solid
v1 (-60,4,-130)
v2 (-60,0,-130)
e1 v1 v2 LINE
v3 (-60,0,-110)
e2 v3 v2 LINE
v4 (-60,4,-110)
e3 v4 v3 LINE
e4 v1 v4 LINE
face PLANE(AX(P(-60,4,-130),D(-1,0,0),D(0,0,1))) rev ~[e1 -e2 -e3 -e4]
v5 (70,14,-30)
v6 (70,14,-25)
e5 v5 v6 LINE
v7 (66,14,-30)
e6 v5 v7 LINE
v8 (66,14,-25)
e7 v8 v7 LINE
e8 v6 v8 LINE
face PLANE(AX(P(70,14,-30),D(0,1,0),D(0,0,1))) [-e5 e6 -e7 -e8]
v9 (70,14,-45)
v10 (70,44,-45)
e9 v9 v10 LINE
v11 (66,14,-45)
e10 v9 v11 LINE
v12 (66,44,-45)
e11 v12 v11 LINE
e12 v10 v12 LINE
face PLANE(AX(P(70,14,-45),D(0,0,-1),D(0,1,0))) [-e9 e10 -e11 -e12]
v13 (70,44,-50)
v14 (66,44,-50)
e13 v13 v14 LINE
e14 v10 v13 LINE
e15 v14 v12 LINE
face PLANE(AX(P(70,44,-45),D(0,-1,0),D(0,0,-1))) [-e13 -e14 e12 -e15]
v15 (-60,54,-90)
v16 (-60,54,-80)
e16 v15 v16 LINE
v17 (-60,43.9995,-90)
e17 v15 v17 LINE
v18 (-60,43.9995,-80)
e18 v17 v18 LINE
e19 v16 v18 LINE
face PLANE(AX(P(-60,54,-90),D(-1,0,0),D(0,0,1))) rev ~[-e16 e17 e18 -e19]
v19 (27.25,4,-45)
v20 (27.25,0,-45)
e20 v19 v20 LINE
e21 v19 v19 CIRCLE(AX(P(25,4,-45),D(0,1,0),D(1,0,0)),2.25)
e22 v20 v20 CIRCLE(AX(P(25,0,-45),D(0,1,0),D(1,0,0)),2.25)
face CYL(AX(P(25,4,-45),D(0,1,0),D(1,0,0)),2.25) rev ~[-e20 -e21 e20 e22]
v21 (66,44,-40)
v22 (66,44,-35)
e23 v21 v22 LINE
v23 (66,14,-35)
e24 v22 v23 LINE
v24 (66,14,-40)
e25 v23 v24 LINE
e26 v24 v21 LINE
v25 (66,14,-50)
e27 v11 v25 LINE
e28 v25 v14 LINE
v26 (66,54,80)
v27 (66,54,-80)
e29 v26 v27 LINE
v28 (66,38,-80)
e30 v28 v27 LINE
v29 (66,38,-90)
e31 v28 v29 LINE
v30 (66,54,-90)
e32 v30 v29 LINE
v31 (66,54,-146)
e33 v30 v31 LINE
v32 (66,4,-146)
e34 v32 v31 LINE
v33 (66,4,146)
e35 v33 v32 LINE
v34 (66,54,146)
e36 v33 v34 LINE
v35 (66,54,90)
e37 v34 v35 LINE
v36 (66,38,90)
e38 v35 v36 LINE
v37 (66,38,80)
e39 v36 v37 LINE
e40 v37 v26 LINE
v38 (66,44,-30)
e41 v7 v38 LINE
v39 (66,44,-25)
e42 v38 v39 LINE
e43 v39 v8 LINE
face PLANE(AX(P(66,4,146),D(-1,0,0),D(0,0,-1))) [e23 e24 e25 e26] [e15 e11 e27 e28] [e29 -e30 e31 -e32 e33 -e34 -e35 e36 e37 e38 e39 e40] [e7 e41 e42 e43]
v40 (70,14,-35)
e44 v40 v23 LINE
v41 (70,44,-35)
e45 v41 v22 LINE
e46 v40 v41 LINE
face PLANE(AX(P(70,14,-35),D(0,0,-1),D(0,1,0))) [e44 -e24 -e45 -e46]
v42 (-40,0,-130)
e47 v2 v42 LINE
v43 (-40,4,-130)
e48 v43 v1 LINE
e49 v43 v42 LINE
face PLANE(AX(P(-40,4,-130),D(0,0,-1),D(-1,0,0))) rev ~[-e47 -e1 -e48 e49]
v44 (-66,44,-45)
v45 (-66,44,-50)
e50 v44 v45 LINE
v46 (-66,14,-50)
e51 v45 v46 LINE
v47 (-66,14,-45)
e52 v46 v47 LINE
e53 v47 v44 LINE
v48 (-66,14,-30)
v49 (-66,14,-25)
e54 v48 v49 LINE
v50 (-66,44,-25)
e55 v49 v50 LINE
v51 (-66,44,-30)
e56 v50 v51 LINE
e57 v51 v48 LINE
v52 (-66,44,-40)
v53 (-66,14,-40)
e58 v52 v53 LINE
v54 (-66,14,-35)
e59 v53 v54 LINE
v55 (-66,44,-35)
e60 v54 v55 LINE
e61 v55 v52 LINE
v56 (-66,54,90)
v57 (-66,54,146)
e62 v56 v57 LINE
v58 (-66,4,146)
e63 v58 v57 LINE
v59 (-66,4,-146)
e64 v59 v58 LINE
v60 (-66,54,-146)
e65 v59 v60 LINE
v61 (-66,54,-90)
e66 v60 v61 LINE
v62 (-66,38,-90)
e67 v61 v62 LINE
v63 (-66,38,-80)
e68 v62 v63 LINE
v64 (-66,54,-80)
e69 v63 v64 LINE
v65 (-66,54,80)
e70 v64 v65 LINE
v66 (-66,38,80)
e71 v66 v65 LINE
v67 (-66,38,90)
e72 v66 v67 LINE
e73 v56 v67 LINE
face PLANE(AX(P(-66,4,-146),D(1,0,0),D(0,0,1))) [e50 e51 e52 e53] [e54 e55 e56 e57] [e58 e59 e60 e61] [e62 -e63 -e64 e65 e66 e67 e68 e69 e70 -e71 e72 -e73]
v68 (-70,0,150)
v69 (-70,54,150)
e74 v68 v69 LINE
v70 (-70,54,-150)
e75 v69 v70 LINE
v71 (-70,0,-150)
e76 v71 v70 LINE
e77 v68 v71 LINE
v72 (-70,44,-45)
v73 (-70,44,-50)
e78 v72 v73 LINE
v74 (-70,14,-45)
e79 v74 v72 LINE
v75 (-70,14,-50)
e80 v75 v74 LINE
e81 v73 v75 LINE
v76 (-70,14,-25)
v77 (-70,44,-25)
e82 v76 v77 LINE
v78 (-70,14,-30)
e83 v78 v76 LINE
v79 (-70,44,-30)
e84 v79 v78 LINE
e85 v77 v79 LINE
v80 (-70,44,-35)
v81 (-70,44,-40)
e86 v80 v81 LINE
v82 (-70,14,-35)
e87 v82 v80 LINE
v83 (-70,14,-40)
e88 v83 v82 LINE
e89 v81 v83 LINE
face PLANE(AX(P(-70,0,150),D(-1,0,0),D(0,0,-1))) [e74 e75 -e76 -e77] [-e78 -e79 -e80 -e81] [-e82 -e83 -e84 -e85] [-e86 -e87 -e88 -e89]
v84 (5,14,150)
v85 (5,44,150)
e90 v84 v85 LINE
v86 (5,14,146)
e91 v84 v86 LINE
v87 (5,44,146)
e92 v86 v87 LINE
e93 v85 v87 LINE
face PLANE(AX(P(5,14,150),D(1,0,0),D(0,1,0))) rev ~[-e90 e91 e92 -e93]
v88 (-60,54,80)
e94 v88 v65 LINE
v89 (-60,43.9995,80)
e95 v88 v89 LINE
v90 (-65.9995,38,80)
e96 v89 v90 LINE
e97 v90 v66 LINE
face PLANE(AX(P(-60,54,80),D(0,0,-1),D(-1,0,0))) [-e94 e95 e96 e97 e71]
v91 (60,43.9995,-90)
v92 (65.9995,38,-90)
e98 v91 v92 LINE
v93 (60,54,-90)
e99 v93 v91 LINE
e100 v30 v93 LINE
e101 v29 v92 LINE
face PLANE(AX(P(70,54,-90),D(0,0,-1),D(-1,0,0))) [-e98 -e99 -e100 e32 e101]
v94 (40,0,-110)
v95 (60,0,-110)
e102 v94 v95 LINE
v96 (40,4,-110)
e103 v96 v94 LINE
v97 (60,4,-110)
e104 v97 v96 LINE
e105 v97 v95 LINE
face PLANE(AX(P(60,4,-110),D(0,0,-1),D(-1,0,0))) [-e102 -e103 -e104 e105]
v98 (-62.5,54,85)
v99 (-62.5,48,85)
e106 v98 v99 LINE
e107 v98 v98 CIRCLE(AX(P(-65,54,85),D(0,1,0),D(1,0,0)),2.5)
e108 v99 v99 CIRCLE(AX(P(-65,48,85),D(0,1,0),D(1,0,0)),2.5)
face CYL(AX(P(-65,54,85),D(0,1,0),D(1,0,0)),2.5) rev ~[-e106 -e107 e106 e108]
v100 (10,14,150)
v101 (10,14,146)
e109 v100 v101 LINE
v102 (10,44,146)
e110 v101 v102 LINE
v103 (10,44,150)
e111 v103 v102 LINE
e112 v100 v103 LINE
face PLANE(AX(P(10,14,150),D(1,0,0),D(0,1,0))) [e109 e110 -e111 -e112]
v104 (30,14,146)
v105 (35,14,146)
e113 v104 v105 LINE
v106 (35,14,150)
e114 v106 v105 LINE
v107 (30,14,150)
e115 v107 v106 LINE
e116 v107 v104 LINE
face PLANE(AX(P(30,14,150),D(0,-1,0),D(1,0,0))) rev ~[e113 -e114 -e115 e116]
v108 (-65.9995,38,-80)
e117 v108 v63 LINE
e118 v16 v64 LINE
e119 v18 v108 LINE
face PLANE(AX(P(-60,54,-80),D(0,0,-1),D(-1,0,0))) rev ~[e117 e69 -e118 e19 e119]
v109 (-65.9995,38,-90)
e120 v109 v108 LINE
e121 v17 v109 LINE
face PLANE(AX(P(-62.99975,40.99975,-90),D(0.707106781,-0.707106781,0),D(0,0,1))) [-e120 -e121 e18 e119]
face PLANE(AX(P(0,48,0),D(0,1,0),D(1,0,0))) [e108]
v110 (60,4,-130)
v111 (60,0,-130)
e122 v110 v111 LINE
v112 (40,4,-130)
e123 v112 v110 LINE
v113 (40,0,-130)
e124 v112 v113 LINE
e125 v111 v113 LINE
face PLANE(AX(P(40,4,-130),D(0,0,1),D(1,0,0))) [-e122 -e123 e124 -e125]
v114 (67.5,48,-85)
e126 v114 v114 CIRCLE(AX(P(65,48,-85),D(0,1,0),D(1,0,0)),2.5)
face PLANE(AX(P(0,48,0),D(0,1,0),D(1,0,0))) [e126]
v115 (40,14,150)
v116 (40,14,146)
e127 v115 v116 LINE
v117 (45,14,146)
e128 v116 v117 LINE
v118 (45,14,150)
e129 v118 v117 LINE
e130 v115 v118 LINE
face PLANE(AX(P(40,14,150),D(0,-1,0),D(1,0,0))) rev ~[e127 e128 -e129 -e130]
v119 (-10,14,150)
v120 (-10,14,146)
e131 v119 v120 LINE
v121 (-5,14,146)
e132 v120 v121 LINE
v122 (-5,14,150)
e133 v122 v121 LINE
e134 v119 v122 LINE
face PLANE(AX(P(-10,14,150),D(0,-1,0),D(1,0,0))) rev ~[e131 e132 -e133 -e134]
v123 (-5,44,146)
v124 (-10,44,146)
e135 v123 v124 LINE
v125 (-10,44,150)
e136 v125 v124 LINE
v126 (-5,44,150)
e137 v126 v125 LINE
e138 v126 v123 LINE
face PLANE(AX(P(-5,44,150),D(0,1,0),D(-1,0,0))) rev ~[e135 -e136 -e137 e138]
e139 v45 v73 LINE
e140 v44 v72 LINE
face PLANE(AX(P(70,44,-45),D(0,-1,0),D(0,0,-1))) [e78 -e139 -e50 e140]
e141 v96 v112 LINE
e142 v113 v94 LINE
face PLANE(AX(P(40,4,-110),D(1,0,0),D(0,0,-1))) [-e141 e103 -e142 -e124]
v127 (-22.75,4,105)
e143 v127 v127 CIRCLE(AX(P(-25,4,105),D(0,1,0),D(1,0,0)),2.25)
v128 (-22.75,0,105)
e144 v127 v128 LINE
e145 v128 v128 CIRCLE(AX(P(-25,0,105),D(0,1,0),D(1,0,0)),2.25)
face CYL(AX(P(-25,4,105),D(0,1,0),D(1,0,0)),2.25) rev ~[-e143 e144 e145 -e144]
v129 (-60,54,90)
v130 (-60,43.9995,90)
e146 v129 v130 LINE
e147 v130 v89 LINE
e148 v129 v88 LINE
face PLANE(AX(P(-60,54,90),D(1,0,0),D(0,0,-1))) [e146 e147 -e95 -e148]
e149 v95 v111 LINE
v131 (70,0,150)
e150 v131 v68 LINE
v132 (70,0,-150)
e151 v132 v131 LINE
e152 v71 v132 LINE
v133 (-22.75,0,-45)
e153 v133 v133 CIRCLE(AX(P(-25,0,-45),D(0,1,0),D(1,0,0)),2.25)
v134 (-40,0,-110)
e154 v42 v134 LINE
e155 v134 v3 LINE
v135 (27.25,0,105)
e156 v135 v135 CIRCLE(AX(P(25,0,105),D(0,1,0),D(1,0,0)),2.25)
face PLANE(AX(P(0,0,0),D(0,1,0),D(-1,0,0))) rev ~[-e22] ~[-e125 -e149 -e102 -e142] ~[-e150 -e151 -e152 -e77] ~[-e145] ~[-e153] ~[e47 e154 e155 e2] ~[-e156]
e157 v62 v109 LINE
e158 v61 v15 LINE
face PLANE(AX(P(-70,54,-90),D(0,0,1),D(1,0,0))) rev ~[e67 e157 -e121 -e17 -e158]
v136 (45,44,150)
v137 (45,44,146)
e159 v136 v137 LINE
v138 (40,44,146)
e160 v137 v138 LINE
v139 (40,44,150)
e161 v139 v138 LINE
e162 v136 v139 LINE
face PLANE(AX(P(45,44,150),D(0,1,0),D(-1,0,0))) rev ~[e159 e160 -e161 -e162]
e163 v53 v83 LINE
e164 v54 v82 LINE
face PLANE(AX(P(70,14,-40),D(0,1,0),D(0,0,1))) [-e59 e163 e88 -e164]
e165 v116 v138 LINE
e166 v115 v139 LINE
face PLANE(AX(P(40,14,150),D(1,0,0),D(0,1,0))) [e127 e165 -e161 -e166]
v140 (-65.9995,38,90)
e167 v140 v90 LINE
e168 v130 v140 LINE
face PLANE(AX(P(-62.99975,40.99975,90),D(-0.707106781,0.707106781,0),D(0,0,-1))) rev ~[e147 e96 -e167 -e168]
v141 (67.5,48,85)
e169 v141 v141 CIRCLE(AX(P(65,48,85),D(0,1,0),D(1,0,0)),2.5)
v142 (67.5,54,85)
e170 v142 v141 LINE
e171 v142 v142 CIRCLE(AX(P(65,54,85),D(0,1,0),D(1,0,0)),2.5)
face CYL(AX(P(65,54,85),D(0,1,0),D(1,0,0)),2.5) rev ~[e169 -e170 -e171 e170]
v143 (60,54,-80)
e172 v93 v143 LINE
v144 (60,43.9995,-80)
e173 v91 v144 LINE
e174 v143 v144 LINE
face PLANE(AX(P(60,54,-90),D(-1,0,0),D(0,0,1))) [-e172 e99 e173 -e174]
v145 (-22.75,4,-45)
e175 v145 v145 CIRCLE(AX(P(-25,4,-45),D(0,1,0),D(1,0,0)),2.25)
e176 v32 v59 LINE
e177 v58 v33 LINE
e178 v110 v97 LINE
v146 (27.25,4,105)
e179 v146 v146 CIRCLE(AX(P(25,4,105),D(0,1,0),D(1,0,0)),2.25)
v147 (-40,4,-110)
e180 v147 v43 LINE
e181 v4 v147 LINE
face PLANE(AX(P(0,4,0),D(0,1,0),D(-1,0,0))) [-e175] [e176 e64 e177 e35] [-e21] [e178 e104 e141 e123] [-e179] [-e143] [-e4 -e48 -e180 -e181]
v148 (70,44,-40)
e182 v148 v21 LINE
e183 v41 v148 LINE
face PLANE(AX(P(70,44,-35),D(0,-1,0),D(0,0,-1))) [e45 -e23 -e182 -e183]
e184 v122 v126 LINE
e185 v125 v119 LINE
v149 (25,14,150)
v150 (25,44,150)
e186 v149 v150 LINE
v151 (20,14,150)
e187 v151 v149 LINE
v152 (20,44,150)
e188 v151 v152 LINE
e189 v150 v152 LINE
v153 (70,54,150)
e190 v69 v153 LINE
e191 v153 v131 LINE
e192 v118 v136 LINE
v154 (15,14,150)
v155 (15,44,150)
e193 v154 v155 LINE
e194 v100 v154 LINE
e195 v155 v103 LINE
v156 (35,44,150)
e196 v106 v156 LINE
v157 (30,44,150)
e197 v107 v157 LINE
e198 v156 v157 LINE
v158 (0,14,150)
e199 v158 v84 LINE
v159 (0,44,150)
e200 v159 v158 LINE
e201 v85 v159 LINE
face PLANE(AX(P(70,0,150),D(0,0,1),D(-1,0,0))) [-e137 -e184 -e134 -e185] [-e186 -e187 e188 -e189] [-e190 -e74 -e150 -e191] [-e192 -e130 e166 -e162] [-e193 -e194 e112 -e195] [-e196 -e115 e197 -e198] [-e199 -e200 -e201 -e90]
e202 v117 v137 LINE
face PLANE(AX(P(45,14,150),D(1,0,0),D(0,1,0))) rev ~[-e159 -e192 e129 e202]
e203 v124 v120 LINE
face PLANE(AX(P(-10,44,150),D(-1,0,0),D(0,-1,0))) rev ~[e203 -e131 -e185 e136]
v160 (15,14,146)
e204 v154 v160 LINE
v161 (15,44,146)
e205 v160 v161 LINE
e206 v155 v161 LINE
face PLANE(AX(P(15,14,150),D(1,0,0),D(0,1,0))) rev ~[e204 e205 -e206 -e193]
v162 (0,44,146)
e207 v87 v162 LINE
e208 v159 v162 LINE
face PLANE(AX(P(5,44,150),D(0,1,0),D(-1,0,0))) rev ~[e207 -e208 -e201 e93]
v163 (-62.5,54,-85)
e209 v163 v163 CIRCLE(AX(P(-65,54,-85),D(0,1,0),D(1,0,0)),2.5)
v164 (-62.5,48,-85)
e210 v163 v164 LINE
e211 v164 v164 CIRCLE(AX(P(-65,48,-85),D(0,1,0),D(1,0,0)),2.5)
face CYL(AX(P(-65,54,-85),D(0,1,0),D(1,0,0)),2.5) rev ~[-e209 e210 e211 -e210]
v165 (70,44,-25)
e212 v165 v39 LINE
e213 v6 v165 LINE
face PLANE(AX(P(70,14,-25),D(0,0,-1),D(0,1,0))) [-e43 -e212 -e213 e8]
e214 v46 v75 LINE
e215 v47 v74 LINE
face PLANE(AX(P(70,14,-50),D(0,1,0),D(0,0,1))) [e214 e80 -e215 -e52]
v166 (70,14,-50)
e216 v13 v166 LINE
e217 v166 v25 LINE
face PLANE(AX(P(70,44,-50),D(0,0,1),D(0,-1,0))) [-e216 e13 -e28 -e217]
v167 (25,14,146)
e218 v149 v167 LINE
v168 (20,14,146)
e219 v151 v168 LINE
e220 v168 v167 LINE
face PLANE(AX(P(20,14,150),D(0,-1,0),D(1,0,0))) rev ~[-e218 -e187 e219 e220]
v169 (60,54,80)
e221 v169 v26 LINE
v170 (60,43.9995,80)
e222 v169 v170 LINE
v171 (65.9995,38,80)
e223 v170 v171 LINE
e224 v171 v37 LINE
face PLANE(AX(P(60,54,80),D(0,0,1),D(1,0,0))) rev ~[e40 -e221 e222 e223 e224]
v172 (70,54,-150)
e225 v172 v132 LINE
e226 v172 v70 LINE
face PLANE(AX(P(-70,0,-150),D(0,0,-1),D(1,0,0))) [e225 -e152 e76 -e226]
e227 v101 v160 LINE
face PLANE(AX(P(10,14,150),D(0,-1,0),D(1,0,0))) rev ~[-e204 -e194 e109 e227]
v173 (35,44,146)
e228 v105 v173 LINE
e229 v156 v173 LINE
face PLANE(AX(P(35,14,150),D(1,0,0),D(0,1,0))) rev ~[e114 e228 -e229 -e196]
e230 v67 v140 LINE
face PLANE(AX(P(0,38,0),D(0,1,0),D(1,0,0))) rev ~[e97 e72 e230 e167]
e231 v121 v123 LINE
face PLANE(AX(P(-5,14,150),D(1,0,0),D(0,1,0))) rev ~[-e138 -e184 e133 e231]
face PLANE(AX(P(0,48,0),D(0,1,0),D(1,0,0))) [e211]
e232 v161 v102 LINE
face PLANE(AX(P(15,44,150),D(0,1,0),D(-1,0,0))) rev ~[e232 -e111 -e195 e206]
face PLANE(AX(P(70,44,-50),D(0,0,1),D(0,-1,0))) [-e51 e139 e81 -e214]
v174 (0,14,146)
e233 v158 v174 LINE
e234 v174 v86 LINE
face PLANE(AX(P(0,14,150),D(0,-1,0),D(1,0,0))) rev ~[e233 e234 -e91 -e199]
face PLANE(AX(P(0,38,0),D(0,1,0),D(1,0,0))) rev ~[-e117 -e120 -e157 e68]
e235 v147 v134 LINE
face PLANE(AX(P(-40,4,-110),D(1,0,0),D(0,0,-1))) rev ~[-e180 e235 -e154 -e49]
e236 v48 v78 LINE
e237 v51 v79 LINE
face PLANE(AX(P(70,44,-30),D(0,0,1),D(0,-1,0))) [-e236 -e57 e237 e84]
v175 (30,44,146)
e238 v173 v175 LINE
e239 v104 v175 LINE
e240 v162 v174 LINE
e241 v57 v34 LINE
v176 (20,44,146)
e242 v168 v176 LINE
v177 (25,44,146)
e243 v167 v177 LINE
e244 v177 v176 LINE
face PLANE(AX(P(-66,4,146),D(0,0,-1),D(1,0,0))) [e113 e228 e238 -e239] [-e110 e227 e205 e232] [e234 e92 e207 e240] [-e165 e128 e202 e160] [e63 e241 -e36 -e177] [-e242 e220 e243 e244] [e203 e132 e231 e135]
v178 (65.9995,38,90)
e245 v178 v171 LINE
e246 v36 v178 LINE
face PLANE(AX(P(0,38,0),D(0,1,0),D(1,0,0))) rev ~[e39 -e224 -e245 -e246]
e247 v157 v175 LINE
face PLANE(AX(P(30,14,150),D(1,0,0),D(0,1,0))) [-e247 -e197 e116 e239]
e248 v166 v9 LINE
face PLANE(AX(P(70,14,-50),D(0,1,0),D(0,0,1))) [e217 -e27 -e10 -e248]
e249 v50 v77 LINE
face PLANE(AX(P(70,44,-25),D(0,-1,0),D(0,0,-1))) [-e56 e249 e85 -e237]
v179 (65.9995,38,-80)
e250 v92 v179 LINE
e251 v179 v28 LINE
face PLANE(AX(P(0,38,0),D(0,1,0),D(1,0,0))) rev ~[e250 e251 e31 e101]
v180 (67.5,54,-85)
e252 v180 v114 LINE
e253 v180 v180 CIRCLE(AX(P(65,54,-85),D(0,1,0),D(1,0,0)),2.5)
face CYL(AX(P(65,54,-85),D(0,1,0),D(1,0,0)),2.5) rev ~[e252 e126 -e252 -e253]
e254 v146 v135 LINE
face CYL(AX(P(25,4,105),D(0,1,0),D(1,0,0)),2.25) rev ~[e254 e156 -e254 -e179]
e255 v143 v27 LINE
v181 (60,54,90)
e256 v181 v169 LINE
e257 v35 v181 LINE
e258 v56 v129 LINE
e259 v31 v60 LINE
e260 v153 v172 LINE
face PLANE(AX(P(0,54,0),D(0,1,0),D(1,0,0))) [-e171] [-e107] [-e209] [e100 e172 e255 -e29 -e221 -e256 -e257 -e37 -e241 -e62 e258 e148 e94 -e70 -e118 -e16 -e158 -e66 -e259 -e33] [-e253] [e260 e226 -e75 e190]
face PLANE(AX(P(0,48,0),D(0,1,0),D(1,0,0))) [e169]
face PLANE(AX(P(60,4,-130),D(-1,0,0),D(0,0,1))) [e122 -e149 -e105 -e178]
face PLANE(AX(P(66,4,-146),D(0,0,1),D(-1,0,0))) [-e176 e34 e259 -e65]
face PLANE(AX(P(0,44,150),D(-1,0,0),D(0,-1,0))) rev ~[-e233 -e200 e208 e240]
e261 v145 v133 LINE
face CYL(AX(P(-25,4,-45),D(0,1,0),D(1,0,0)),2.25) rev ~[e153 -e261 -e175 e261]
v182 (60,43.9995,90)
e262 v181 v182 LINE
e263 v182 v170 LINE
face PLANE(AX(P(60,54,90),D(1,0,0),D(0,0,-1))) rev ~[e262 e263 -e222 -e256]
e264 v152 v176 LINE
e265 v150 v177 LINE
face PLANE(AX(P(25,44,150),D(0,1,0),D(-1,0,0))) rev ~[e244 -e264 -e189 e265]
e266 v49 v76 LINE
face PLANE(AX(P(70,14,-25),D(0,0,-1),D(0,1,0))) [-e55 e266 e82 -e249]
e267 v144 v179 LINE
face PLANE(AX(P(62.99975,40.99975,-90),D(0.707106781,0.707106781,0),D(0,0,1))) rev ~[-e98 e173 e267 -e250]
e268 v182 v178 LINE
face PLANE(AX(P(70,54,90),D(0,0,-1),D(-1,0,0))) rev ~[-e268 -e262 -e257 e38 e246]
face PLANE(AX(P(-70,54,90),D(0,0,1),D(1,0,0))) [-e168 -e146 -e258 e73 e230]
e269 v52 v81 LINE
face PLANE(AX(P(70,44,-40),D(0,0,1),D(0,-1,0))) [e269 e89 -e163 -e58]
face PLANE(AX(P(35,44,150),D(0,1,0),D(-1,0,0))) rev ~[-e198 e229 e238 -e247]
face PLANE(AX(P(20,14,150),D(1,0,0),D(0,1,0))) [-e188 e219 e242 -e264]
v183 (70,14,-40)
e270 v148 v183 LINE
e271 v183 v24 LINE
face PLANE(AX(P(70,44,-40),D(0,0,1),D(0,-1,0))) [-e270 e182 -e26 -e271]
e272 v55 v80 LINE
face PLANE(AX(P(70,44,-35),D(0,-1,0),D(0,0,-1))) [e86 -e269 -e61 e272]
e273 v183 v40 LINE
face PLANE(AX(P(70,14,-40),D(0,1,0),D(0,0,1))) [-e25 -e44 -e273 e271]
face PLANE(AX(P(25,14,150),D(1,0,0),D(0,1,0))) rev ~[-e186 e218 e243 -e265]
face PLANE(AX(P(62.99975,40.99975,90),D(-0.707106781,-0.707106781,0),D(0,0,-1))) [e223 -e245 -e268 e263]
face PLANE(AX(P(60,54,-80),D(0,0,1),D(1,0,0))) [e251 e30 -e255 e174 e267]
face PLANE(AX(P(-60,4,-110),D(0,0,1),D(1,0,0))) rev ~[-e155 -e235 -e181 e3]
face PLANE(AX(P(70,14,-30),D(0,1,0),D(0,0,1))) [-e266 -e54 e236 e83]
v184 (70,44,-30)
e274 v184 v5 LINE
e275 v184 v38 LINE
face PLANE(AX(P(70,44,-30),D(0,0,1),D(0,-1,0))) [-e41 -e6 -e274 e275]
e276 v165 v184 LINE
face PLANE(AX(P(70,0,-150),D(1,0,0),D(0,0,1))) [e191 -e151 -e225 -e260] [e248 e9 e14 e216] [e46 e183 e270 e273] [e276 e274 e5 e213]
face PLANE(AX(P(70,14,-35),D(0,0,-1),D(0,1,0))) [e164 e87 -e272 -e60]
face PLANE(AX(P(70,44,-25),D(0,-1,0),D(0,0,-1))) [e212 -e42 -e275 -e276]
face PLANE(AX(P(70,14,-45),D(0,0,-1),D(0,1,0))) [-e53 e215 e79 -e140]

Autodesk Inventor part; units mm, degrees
ref_plane "YZ Plane" through (0, 0, 0) normal (1, 0, 0) x (0, 1, 0)
ref_plane "XZ Plane" through (0, 0, 0) normal (0, 1, 0) x (-1, 0, 0)
ref_plane "XY Plane" through (0, 0, 0) normal (0, 0, 1) x (1, 0, 0)
sketch "Sketch1" plane through (0, 0, 0) normal (0, 1, 0) x (-1, 0, 0)
  line L0 (70, -150) -> (-70, -150)
  line L1 (-70, -150) -> (-70, 150)
  line L2 (-70, 150) -> (70, 150)
  line L3 (70, 150) -> (70, -150)
  line L4 (0, -150) -> (0, 150) construction
  line L5 (70, 0) -> (-70, 0) construction
  point P0 (0, 0)
  point P1 (0, 0)
  dimension "d0" = 140
  dimension "d1" = 300
extrude "Extrusion1" add sketch "Sketch1" along normal blind 4
sketch "Sketch2" plane through (0, 4, 0) normal (0, 1, 0) x (1, 0, 0)
  line L0 (-70, -150) -> (70, -150) projected
  line L1 (70, -150) -> (70, 150) projected
  line L2 (-70, -150) -> (70, -150)
  line L3 (70, -150) -> (70, 150)
  line L4 (70, 150) -> (-70, 150)
  line L5 (-70, 150) -> (-70, -150)
  line L6 (-66, -146) -> (66, -146)
  line L7 (66, -146) -> (66, 146)
  line L8 (66, 146) -> (-66, 146)
  line L9 (-66, 146) -> (-66, -146)
  point P0 (0, 0)
  dimension "d4" = 4
  dimension "d5" = 4
  dimension "d6" = 4
  dimension "d7" = 4
extrude "Extrusion2" add sketch "Sketch2" along normal blind 50
sketch "Sketch3" plane through (0, 54, 0) normal (0, 1, 0) x (1, 0, 0)
  line L0 (-70, 150) -> (-70, -150) projected
  line L1 (-70, -90) -> (-60, -90)
  line L2 (-60, -90) -> (-60, -80)
  line L3 (-60, -80) -> (-70, -80)
  line L4 (-70, -80) -> (-70, -90)
  line L5 (-70, -150) -> (70, -150) projected
  line L6 (0, -150) -> (0, 150) construction
  line L7 (-70, 150) -> (70, 150) construction
  line L8 (70, -150) -> (70, 150) construction
  line L9 (70, 0) -> (-70, 0) construction
  line L10 (-70, 90) -> (-60, 90)
  line L11 (-60, 90) -> (-60, 80)
  line L12 (-60, 80) -> (-70, 80)
  line L13 (-70, 80) -> (-70, 90)
  line L14 (70, -90) -> (60, -90)
  line L15 (60, -90) -> (60, -80)
  line L16 (60, -80) -> (70, -80)
  line L17 (70, -80) -> (70, -90)
  line L18 (60, 90) -> (60, 80)
  line L19 (70, 90) -> (60, 90)
  line L20 (70, 80) -> (70, 90)
  line L21 (60, 80) -> (70, 80)
  line L22 (65, 80) -> (65, 90) construction
  line L23 (60, 85) -> (70, 85) construction
  circle A0 centre (65, 85) radius 2.5
  circle A1 centre (-65, 85) radius 2.5
  circle A2 centre (65, -85) radius 2.5
  circle A3 centre (-65, -85) radius 2.5
  point P0 (0, 0)
  dimension "d10" = 10
  dimension "d11" = 10
  dimension "d12" = 60
  dimension "d15" = 5
extrude "Extrusion3" add sketch "Sketch3" against normal blind 16 contours L10 L11 L12 L0 | L3 L2 L1 L0 | L14 L15 L16 L17 | L19 L20 L21 L18 | A0 | A1 | A2 | A3
sketch "Sketch4" plane through (0, 54, 0) normal (0, 1, 0) x (1, 0, 0)
  line L0 (70, -150) -> (-70, -150) construction
  line L1 (0, -150) -> (0, 150) construction
  line L2 (-70, 150) -> (70, 150) construction
  line L3 (70, -150) -> (70, 150) construction
  line L4 (70, 0) -> (-70, 0) construction
  line L5 (-70, -150) -> (-70, 150) construction
  line L6 (60, 90) -> (66, 90) construction
  line L7 (60, 90) -> (70, 90) construction
  line L8 (70, 90) -> (70, 80) construction
  line L9 (70, 80) -> (60, 80) construction
  line L10 (60, 80) -> (60, 90) construction
  line L11 (66, 80) -> (60, 80) construction
  line L12 (65, 90) -> (65, 80) construction
  line L13 (60, 80) -> (60, 90) construction
  line L14 (60, 85) -> (70, 85) construction
  circle A0 centre (65, 85) radius 2.5
  circle A1 centre (-65, 85) radius 2.5
  circle A2 centre (65, -85) radius 2.5
  circle A3 centre (-65, -85) radius 2.5
  point P0 (0, 0)
  dimension "d16" = 5
extrude "Extrusion4" cut sketch "Sketch4" against normal blind 6
chamfer "Chamfer1" distance 6 angle 45 4 edges at (60, 38, -85) (60, 38, 85) (-60, 38, -85) (-60, 38, 85)
sketch "Sketch5" plane through (0, 4, 0) normal (0, 1, 0) x (1, 0, 0)
  line L0 (-70, 150) -> (70, 150) construction
  line L1 (0, 150) -> (0, -150) construction
  line L2 (70, -150) -> (-70, -150) construction
  line L3 (60, 110) -> (40, 110)
  line L4 (40, 110) -> (40, 130)
  line L5 (40, 130) -> (60, 130)
  line L6 (60, 130) -> (60, 110)
  line L7 (50, 110) -> (50, 130) construction
  line L8 (60, 120) -> (40, 120) construction
  line L9 (70, -150) -> (70, 150) construction
  line L10 (-60, 110) -> (-40, 110)
  line L11 (-40, 110) -> (-40, 130)
  line L12 (-40, 130) -> (-60, 130)
  line L13 (-60, 130) -> (-60, 110)
  point P0 (0, 0)
  dimension "d22" = 20
  dimension "d23" = 20
  dimension "d24" = 20
  dimension "d26" = 40
extrude "Extrusion5" cut sketch "Sketch5" against normal up to next
sketch "Sketch6" plane through (0, 4, 0) normal (0, 1, 0) x (1, 0, 0)
  line L0 (-57.5, 77.5) -> (57.5, 77.5) construction
  line L1 (57.5, 77.5) -> (57.5, -137.5) construction
  line L2 (57.5, -137.5) -> (-57.5, -137.5) construction
  line L3 (-57.5, -137.5) -> (-57.5, 77.5) construction
  line L4 (-70, 150) -> (70, 150) projected
  line L5 (0, 150) -> (0, -150) construction
  line L6 (-70, -150) -> (70, -150) projected
  line L7 (0, 77.5) -> (0, -137.5) construction
  line L8 (-25, 45) -> (25, 45) construction
  line L9 (25, 45) -> (25, -105) construction
  line L10 (25, -105) -> (-25, -105) construction
  line L11 (-25, -105) -> (-25, 45) construction
  line L12 (0, 45) -> (0, -105) construction
  circle A0 centre (-25, 45) radius 2.25
  circle A1 centre (25, 45) radius 2.25
  circle A2 centre (-25, -105) radius 2.25
  circle A3 centre (25, -105) radius 2.25
  line L13 (-66, -146) -> (66, -146) projected
  point P0 (0, 0)
  dimension "d29" = 115
  dimension "d30" = 215
  dimension "d31" = 50
  dimension "d32" = 150
  dimension "d33" = 32.5
  dimension "d34" = 4.5
  dimension "d35" = 4.5
  dimension "d36" = 4.5
  dimension "d37" = 4.5
  dimension "d38" = 8.5
extrude "Extrusion6" cut sketch "Sketch6" against normal up to next
sketch "Sketch7" plane through (-70, 0, 150) normal (0, 0, 1) x (1, 0, 0)
  line L0 (70, 44) -> (70, 14)
  line L1 (0, 54) -> (140, 54) projected
  line L2 (140, 0) -> (140, 54) projected
  line L3 (75, 14) -> (75, 44)
  line L4 (80, 14) -> (80, 44)
  line L5 (85, 14) -> (85, 44)
  line L6 (90, 14) -> (90, 44)
  line L7 (95, 14) -> (95, 44)
  line L8 (100, 14) -> (100, 44)
  line L9 (105, 14) -> (105, 44)
  line L10 (110, 14) -> (110, 44)
  line L11 (115, 14) -> (115, 44)
  line L12 (75, 44) -> (70, 44)
  line L13 (85, 44) -> (80, 44)
  line L14 (95, 44) -> (90, 44)
  line L15 (115, 44) -> (110, 44)
  line L16 (105, 44) -> (100, 44)
  line L17 (70, 14) -> (75, 14)
  line L18 (80, 14) -> (85, 14)
  line L19 (90, 14) -> (95, 14)
  line L20 (100, 14) -> (105, 14)
  line L21 (110, 14) -> (115, 14)
  line L22 (60, 44) -> (60, 14)
  line L23 (65, 14) -> (65, 44)
  line L24 (65, 44) -> (60, 44)
  line L25 (60, 14) -> (65, 14)
  point P0 (70, 0)
  dimension "d42" = 30
  dimension "d45" = 5
  dimension "d47" = 5
  dimension "d48" = 5
  dimension "d49" = 5
  dimension "d50" = 5
  dimension "d51" = 5
  dimension "d52" = 5
  dimension "d53" = 5
  dimension "d54" = 10
  dimension "d55" = 25
  dimension "d56" = 5
  dimension "d60" = 30
  dimension "d61" = 5
  dimension "d62" = 5
extrude "Extrusion7" cut sketch "Sketch7" against normal up to next
sketch "Sketch9" plane through (70, 0, 150) normal (1, 0, 0) x (0, 0, -1)
  line L0 (175, 44) -> (180, 44)
  line L1 (180, 44) -> (180, 14)
  line L2 (180, 14) -> (175, 14)
  line L3 (175, 14) -> (175, 44)
  line L4 (0, 54) -> (300, 54) projected
  line L5 (185, 44) -> (190, 44)
  line L6 (190, 44) -> (190, 14)
  line L7 (190, 14) -> (185, 14)
  line L8 (185, 14) -> (185, 44)
  line L9 (195, 44) -> (200, 44)
  line L10 (200, 44) -> (200, 14)
  line L11 (200, 14) -> (195, 14)
  line L12 (195, 14) -> (195, 44)
  line L13 (300, 0) -> (300, 54) projected
  point P0 (150, 0)
  dimension "d63" = 5
  dimension "d64" = 30
  dimension "d65" = 10
  dimension "d68" = 5
  dimension "d69" = 30
  dimension "d70" = 5
  dimension "d71" = 30
  dimension "d72" = 5
  dimension "d73" = 5
  dimension "d74" = 100
extrude "Extrusion8" cut sketch "Sketch9" against normal blind 140
properties part number "power_supply_case"
